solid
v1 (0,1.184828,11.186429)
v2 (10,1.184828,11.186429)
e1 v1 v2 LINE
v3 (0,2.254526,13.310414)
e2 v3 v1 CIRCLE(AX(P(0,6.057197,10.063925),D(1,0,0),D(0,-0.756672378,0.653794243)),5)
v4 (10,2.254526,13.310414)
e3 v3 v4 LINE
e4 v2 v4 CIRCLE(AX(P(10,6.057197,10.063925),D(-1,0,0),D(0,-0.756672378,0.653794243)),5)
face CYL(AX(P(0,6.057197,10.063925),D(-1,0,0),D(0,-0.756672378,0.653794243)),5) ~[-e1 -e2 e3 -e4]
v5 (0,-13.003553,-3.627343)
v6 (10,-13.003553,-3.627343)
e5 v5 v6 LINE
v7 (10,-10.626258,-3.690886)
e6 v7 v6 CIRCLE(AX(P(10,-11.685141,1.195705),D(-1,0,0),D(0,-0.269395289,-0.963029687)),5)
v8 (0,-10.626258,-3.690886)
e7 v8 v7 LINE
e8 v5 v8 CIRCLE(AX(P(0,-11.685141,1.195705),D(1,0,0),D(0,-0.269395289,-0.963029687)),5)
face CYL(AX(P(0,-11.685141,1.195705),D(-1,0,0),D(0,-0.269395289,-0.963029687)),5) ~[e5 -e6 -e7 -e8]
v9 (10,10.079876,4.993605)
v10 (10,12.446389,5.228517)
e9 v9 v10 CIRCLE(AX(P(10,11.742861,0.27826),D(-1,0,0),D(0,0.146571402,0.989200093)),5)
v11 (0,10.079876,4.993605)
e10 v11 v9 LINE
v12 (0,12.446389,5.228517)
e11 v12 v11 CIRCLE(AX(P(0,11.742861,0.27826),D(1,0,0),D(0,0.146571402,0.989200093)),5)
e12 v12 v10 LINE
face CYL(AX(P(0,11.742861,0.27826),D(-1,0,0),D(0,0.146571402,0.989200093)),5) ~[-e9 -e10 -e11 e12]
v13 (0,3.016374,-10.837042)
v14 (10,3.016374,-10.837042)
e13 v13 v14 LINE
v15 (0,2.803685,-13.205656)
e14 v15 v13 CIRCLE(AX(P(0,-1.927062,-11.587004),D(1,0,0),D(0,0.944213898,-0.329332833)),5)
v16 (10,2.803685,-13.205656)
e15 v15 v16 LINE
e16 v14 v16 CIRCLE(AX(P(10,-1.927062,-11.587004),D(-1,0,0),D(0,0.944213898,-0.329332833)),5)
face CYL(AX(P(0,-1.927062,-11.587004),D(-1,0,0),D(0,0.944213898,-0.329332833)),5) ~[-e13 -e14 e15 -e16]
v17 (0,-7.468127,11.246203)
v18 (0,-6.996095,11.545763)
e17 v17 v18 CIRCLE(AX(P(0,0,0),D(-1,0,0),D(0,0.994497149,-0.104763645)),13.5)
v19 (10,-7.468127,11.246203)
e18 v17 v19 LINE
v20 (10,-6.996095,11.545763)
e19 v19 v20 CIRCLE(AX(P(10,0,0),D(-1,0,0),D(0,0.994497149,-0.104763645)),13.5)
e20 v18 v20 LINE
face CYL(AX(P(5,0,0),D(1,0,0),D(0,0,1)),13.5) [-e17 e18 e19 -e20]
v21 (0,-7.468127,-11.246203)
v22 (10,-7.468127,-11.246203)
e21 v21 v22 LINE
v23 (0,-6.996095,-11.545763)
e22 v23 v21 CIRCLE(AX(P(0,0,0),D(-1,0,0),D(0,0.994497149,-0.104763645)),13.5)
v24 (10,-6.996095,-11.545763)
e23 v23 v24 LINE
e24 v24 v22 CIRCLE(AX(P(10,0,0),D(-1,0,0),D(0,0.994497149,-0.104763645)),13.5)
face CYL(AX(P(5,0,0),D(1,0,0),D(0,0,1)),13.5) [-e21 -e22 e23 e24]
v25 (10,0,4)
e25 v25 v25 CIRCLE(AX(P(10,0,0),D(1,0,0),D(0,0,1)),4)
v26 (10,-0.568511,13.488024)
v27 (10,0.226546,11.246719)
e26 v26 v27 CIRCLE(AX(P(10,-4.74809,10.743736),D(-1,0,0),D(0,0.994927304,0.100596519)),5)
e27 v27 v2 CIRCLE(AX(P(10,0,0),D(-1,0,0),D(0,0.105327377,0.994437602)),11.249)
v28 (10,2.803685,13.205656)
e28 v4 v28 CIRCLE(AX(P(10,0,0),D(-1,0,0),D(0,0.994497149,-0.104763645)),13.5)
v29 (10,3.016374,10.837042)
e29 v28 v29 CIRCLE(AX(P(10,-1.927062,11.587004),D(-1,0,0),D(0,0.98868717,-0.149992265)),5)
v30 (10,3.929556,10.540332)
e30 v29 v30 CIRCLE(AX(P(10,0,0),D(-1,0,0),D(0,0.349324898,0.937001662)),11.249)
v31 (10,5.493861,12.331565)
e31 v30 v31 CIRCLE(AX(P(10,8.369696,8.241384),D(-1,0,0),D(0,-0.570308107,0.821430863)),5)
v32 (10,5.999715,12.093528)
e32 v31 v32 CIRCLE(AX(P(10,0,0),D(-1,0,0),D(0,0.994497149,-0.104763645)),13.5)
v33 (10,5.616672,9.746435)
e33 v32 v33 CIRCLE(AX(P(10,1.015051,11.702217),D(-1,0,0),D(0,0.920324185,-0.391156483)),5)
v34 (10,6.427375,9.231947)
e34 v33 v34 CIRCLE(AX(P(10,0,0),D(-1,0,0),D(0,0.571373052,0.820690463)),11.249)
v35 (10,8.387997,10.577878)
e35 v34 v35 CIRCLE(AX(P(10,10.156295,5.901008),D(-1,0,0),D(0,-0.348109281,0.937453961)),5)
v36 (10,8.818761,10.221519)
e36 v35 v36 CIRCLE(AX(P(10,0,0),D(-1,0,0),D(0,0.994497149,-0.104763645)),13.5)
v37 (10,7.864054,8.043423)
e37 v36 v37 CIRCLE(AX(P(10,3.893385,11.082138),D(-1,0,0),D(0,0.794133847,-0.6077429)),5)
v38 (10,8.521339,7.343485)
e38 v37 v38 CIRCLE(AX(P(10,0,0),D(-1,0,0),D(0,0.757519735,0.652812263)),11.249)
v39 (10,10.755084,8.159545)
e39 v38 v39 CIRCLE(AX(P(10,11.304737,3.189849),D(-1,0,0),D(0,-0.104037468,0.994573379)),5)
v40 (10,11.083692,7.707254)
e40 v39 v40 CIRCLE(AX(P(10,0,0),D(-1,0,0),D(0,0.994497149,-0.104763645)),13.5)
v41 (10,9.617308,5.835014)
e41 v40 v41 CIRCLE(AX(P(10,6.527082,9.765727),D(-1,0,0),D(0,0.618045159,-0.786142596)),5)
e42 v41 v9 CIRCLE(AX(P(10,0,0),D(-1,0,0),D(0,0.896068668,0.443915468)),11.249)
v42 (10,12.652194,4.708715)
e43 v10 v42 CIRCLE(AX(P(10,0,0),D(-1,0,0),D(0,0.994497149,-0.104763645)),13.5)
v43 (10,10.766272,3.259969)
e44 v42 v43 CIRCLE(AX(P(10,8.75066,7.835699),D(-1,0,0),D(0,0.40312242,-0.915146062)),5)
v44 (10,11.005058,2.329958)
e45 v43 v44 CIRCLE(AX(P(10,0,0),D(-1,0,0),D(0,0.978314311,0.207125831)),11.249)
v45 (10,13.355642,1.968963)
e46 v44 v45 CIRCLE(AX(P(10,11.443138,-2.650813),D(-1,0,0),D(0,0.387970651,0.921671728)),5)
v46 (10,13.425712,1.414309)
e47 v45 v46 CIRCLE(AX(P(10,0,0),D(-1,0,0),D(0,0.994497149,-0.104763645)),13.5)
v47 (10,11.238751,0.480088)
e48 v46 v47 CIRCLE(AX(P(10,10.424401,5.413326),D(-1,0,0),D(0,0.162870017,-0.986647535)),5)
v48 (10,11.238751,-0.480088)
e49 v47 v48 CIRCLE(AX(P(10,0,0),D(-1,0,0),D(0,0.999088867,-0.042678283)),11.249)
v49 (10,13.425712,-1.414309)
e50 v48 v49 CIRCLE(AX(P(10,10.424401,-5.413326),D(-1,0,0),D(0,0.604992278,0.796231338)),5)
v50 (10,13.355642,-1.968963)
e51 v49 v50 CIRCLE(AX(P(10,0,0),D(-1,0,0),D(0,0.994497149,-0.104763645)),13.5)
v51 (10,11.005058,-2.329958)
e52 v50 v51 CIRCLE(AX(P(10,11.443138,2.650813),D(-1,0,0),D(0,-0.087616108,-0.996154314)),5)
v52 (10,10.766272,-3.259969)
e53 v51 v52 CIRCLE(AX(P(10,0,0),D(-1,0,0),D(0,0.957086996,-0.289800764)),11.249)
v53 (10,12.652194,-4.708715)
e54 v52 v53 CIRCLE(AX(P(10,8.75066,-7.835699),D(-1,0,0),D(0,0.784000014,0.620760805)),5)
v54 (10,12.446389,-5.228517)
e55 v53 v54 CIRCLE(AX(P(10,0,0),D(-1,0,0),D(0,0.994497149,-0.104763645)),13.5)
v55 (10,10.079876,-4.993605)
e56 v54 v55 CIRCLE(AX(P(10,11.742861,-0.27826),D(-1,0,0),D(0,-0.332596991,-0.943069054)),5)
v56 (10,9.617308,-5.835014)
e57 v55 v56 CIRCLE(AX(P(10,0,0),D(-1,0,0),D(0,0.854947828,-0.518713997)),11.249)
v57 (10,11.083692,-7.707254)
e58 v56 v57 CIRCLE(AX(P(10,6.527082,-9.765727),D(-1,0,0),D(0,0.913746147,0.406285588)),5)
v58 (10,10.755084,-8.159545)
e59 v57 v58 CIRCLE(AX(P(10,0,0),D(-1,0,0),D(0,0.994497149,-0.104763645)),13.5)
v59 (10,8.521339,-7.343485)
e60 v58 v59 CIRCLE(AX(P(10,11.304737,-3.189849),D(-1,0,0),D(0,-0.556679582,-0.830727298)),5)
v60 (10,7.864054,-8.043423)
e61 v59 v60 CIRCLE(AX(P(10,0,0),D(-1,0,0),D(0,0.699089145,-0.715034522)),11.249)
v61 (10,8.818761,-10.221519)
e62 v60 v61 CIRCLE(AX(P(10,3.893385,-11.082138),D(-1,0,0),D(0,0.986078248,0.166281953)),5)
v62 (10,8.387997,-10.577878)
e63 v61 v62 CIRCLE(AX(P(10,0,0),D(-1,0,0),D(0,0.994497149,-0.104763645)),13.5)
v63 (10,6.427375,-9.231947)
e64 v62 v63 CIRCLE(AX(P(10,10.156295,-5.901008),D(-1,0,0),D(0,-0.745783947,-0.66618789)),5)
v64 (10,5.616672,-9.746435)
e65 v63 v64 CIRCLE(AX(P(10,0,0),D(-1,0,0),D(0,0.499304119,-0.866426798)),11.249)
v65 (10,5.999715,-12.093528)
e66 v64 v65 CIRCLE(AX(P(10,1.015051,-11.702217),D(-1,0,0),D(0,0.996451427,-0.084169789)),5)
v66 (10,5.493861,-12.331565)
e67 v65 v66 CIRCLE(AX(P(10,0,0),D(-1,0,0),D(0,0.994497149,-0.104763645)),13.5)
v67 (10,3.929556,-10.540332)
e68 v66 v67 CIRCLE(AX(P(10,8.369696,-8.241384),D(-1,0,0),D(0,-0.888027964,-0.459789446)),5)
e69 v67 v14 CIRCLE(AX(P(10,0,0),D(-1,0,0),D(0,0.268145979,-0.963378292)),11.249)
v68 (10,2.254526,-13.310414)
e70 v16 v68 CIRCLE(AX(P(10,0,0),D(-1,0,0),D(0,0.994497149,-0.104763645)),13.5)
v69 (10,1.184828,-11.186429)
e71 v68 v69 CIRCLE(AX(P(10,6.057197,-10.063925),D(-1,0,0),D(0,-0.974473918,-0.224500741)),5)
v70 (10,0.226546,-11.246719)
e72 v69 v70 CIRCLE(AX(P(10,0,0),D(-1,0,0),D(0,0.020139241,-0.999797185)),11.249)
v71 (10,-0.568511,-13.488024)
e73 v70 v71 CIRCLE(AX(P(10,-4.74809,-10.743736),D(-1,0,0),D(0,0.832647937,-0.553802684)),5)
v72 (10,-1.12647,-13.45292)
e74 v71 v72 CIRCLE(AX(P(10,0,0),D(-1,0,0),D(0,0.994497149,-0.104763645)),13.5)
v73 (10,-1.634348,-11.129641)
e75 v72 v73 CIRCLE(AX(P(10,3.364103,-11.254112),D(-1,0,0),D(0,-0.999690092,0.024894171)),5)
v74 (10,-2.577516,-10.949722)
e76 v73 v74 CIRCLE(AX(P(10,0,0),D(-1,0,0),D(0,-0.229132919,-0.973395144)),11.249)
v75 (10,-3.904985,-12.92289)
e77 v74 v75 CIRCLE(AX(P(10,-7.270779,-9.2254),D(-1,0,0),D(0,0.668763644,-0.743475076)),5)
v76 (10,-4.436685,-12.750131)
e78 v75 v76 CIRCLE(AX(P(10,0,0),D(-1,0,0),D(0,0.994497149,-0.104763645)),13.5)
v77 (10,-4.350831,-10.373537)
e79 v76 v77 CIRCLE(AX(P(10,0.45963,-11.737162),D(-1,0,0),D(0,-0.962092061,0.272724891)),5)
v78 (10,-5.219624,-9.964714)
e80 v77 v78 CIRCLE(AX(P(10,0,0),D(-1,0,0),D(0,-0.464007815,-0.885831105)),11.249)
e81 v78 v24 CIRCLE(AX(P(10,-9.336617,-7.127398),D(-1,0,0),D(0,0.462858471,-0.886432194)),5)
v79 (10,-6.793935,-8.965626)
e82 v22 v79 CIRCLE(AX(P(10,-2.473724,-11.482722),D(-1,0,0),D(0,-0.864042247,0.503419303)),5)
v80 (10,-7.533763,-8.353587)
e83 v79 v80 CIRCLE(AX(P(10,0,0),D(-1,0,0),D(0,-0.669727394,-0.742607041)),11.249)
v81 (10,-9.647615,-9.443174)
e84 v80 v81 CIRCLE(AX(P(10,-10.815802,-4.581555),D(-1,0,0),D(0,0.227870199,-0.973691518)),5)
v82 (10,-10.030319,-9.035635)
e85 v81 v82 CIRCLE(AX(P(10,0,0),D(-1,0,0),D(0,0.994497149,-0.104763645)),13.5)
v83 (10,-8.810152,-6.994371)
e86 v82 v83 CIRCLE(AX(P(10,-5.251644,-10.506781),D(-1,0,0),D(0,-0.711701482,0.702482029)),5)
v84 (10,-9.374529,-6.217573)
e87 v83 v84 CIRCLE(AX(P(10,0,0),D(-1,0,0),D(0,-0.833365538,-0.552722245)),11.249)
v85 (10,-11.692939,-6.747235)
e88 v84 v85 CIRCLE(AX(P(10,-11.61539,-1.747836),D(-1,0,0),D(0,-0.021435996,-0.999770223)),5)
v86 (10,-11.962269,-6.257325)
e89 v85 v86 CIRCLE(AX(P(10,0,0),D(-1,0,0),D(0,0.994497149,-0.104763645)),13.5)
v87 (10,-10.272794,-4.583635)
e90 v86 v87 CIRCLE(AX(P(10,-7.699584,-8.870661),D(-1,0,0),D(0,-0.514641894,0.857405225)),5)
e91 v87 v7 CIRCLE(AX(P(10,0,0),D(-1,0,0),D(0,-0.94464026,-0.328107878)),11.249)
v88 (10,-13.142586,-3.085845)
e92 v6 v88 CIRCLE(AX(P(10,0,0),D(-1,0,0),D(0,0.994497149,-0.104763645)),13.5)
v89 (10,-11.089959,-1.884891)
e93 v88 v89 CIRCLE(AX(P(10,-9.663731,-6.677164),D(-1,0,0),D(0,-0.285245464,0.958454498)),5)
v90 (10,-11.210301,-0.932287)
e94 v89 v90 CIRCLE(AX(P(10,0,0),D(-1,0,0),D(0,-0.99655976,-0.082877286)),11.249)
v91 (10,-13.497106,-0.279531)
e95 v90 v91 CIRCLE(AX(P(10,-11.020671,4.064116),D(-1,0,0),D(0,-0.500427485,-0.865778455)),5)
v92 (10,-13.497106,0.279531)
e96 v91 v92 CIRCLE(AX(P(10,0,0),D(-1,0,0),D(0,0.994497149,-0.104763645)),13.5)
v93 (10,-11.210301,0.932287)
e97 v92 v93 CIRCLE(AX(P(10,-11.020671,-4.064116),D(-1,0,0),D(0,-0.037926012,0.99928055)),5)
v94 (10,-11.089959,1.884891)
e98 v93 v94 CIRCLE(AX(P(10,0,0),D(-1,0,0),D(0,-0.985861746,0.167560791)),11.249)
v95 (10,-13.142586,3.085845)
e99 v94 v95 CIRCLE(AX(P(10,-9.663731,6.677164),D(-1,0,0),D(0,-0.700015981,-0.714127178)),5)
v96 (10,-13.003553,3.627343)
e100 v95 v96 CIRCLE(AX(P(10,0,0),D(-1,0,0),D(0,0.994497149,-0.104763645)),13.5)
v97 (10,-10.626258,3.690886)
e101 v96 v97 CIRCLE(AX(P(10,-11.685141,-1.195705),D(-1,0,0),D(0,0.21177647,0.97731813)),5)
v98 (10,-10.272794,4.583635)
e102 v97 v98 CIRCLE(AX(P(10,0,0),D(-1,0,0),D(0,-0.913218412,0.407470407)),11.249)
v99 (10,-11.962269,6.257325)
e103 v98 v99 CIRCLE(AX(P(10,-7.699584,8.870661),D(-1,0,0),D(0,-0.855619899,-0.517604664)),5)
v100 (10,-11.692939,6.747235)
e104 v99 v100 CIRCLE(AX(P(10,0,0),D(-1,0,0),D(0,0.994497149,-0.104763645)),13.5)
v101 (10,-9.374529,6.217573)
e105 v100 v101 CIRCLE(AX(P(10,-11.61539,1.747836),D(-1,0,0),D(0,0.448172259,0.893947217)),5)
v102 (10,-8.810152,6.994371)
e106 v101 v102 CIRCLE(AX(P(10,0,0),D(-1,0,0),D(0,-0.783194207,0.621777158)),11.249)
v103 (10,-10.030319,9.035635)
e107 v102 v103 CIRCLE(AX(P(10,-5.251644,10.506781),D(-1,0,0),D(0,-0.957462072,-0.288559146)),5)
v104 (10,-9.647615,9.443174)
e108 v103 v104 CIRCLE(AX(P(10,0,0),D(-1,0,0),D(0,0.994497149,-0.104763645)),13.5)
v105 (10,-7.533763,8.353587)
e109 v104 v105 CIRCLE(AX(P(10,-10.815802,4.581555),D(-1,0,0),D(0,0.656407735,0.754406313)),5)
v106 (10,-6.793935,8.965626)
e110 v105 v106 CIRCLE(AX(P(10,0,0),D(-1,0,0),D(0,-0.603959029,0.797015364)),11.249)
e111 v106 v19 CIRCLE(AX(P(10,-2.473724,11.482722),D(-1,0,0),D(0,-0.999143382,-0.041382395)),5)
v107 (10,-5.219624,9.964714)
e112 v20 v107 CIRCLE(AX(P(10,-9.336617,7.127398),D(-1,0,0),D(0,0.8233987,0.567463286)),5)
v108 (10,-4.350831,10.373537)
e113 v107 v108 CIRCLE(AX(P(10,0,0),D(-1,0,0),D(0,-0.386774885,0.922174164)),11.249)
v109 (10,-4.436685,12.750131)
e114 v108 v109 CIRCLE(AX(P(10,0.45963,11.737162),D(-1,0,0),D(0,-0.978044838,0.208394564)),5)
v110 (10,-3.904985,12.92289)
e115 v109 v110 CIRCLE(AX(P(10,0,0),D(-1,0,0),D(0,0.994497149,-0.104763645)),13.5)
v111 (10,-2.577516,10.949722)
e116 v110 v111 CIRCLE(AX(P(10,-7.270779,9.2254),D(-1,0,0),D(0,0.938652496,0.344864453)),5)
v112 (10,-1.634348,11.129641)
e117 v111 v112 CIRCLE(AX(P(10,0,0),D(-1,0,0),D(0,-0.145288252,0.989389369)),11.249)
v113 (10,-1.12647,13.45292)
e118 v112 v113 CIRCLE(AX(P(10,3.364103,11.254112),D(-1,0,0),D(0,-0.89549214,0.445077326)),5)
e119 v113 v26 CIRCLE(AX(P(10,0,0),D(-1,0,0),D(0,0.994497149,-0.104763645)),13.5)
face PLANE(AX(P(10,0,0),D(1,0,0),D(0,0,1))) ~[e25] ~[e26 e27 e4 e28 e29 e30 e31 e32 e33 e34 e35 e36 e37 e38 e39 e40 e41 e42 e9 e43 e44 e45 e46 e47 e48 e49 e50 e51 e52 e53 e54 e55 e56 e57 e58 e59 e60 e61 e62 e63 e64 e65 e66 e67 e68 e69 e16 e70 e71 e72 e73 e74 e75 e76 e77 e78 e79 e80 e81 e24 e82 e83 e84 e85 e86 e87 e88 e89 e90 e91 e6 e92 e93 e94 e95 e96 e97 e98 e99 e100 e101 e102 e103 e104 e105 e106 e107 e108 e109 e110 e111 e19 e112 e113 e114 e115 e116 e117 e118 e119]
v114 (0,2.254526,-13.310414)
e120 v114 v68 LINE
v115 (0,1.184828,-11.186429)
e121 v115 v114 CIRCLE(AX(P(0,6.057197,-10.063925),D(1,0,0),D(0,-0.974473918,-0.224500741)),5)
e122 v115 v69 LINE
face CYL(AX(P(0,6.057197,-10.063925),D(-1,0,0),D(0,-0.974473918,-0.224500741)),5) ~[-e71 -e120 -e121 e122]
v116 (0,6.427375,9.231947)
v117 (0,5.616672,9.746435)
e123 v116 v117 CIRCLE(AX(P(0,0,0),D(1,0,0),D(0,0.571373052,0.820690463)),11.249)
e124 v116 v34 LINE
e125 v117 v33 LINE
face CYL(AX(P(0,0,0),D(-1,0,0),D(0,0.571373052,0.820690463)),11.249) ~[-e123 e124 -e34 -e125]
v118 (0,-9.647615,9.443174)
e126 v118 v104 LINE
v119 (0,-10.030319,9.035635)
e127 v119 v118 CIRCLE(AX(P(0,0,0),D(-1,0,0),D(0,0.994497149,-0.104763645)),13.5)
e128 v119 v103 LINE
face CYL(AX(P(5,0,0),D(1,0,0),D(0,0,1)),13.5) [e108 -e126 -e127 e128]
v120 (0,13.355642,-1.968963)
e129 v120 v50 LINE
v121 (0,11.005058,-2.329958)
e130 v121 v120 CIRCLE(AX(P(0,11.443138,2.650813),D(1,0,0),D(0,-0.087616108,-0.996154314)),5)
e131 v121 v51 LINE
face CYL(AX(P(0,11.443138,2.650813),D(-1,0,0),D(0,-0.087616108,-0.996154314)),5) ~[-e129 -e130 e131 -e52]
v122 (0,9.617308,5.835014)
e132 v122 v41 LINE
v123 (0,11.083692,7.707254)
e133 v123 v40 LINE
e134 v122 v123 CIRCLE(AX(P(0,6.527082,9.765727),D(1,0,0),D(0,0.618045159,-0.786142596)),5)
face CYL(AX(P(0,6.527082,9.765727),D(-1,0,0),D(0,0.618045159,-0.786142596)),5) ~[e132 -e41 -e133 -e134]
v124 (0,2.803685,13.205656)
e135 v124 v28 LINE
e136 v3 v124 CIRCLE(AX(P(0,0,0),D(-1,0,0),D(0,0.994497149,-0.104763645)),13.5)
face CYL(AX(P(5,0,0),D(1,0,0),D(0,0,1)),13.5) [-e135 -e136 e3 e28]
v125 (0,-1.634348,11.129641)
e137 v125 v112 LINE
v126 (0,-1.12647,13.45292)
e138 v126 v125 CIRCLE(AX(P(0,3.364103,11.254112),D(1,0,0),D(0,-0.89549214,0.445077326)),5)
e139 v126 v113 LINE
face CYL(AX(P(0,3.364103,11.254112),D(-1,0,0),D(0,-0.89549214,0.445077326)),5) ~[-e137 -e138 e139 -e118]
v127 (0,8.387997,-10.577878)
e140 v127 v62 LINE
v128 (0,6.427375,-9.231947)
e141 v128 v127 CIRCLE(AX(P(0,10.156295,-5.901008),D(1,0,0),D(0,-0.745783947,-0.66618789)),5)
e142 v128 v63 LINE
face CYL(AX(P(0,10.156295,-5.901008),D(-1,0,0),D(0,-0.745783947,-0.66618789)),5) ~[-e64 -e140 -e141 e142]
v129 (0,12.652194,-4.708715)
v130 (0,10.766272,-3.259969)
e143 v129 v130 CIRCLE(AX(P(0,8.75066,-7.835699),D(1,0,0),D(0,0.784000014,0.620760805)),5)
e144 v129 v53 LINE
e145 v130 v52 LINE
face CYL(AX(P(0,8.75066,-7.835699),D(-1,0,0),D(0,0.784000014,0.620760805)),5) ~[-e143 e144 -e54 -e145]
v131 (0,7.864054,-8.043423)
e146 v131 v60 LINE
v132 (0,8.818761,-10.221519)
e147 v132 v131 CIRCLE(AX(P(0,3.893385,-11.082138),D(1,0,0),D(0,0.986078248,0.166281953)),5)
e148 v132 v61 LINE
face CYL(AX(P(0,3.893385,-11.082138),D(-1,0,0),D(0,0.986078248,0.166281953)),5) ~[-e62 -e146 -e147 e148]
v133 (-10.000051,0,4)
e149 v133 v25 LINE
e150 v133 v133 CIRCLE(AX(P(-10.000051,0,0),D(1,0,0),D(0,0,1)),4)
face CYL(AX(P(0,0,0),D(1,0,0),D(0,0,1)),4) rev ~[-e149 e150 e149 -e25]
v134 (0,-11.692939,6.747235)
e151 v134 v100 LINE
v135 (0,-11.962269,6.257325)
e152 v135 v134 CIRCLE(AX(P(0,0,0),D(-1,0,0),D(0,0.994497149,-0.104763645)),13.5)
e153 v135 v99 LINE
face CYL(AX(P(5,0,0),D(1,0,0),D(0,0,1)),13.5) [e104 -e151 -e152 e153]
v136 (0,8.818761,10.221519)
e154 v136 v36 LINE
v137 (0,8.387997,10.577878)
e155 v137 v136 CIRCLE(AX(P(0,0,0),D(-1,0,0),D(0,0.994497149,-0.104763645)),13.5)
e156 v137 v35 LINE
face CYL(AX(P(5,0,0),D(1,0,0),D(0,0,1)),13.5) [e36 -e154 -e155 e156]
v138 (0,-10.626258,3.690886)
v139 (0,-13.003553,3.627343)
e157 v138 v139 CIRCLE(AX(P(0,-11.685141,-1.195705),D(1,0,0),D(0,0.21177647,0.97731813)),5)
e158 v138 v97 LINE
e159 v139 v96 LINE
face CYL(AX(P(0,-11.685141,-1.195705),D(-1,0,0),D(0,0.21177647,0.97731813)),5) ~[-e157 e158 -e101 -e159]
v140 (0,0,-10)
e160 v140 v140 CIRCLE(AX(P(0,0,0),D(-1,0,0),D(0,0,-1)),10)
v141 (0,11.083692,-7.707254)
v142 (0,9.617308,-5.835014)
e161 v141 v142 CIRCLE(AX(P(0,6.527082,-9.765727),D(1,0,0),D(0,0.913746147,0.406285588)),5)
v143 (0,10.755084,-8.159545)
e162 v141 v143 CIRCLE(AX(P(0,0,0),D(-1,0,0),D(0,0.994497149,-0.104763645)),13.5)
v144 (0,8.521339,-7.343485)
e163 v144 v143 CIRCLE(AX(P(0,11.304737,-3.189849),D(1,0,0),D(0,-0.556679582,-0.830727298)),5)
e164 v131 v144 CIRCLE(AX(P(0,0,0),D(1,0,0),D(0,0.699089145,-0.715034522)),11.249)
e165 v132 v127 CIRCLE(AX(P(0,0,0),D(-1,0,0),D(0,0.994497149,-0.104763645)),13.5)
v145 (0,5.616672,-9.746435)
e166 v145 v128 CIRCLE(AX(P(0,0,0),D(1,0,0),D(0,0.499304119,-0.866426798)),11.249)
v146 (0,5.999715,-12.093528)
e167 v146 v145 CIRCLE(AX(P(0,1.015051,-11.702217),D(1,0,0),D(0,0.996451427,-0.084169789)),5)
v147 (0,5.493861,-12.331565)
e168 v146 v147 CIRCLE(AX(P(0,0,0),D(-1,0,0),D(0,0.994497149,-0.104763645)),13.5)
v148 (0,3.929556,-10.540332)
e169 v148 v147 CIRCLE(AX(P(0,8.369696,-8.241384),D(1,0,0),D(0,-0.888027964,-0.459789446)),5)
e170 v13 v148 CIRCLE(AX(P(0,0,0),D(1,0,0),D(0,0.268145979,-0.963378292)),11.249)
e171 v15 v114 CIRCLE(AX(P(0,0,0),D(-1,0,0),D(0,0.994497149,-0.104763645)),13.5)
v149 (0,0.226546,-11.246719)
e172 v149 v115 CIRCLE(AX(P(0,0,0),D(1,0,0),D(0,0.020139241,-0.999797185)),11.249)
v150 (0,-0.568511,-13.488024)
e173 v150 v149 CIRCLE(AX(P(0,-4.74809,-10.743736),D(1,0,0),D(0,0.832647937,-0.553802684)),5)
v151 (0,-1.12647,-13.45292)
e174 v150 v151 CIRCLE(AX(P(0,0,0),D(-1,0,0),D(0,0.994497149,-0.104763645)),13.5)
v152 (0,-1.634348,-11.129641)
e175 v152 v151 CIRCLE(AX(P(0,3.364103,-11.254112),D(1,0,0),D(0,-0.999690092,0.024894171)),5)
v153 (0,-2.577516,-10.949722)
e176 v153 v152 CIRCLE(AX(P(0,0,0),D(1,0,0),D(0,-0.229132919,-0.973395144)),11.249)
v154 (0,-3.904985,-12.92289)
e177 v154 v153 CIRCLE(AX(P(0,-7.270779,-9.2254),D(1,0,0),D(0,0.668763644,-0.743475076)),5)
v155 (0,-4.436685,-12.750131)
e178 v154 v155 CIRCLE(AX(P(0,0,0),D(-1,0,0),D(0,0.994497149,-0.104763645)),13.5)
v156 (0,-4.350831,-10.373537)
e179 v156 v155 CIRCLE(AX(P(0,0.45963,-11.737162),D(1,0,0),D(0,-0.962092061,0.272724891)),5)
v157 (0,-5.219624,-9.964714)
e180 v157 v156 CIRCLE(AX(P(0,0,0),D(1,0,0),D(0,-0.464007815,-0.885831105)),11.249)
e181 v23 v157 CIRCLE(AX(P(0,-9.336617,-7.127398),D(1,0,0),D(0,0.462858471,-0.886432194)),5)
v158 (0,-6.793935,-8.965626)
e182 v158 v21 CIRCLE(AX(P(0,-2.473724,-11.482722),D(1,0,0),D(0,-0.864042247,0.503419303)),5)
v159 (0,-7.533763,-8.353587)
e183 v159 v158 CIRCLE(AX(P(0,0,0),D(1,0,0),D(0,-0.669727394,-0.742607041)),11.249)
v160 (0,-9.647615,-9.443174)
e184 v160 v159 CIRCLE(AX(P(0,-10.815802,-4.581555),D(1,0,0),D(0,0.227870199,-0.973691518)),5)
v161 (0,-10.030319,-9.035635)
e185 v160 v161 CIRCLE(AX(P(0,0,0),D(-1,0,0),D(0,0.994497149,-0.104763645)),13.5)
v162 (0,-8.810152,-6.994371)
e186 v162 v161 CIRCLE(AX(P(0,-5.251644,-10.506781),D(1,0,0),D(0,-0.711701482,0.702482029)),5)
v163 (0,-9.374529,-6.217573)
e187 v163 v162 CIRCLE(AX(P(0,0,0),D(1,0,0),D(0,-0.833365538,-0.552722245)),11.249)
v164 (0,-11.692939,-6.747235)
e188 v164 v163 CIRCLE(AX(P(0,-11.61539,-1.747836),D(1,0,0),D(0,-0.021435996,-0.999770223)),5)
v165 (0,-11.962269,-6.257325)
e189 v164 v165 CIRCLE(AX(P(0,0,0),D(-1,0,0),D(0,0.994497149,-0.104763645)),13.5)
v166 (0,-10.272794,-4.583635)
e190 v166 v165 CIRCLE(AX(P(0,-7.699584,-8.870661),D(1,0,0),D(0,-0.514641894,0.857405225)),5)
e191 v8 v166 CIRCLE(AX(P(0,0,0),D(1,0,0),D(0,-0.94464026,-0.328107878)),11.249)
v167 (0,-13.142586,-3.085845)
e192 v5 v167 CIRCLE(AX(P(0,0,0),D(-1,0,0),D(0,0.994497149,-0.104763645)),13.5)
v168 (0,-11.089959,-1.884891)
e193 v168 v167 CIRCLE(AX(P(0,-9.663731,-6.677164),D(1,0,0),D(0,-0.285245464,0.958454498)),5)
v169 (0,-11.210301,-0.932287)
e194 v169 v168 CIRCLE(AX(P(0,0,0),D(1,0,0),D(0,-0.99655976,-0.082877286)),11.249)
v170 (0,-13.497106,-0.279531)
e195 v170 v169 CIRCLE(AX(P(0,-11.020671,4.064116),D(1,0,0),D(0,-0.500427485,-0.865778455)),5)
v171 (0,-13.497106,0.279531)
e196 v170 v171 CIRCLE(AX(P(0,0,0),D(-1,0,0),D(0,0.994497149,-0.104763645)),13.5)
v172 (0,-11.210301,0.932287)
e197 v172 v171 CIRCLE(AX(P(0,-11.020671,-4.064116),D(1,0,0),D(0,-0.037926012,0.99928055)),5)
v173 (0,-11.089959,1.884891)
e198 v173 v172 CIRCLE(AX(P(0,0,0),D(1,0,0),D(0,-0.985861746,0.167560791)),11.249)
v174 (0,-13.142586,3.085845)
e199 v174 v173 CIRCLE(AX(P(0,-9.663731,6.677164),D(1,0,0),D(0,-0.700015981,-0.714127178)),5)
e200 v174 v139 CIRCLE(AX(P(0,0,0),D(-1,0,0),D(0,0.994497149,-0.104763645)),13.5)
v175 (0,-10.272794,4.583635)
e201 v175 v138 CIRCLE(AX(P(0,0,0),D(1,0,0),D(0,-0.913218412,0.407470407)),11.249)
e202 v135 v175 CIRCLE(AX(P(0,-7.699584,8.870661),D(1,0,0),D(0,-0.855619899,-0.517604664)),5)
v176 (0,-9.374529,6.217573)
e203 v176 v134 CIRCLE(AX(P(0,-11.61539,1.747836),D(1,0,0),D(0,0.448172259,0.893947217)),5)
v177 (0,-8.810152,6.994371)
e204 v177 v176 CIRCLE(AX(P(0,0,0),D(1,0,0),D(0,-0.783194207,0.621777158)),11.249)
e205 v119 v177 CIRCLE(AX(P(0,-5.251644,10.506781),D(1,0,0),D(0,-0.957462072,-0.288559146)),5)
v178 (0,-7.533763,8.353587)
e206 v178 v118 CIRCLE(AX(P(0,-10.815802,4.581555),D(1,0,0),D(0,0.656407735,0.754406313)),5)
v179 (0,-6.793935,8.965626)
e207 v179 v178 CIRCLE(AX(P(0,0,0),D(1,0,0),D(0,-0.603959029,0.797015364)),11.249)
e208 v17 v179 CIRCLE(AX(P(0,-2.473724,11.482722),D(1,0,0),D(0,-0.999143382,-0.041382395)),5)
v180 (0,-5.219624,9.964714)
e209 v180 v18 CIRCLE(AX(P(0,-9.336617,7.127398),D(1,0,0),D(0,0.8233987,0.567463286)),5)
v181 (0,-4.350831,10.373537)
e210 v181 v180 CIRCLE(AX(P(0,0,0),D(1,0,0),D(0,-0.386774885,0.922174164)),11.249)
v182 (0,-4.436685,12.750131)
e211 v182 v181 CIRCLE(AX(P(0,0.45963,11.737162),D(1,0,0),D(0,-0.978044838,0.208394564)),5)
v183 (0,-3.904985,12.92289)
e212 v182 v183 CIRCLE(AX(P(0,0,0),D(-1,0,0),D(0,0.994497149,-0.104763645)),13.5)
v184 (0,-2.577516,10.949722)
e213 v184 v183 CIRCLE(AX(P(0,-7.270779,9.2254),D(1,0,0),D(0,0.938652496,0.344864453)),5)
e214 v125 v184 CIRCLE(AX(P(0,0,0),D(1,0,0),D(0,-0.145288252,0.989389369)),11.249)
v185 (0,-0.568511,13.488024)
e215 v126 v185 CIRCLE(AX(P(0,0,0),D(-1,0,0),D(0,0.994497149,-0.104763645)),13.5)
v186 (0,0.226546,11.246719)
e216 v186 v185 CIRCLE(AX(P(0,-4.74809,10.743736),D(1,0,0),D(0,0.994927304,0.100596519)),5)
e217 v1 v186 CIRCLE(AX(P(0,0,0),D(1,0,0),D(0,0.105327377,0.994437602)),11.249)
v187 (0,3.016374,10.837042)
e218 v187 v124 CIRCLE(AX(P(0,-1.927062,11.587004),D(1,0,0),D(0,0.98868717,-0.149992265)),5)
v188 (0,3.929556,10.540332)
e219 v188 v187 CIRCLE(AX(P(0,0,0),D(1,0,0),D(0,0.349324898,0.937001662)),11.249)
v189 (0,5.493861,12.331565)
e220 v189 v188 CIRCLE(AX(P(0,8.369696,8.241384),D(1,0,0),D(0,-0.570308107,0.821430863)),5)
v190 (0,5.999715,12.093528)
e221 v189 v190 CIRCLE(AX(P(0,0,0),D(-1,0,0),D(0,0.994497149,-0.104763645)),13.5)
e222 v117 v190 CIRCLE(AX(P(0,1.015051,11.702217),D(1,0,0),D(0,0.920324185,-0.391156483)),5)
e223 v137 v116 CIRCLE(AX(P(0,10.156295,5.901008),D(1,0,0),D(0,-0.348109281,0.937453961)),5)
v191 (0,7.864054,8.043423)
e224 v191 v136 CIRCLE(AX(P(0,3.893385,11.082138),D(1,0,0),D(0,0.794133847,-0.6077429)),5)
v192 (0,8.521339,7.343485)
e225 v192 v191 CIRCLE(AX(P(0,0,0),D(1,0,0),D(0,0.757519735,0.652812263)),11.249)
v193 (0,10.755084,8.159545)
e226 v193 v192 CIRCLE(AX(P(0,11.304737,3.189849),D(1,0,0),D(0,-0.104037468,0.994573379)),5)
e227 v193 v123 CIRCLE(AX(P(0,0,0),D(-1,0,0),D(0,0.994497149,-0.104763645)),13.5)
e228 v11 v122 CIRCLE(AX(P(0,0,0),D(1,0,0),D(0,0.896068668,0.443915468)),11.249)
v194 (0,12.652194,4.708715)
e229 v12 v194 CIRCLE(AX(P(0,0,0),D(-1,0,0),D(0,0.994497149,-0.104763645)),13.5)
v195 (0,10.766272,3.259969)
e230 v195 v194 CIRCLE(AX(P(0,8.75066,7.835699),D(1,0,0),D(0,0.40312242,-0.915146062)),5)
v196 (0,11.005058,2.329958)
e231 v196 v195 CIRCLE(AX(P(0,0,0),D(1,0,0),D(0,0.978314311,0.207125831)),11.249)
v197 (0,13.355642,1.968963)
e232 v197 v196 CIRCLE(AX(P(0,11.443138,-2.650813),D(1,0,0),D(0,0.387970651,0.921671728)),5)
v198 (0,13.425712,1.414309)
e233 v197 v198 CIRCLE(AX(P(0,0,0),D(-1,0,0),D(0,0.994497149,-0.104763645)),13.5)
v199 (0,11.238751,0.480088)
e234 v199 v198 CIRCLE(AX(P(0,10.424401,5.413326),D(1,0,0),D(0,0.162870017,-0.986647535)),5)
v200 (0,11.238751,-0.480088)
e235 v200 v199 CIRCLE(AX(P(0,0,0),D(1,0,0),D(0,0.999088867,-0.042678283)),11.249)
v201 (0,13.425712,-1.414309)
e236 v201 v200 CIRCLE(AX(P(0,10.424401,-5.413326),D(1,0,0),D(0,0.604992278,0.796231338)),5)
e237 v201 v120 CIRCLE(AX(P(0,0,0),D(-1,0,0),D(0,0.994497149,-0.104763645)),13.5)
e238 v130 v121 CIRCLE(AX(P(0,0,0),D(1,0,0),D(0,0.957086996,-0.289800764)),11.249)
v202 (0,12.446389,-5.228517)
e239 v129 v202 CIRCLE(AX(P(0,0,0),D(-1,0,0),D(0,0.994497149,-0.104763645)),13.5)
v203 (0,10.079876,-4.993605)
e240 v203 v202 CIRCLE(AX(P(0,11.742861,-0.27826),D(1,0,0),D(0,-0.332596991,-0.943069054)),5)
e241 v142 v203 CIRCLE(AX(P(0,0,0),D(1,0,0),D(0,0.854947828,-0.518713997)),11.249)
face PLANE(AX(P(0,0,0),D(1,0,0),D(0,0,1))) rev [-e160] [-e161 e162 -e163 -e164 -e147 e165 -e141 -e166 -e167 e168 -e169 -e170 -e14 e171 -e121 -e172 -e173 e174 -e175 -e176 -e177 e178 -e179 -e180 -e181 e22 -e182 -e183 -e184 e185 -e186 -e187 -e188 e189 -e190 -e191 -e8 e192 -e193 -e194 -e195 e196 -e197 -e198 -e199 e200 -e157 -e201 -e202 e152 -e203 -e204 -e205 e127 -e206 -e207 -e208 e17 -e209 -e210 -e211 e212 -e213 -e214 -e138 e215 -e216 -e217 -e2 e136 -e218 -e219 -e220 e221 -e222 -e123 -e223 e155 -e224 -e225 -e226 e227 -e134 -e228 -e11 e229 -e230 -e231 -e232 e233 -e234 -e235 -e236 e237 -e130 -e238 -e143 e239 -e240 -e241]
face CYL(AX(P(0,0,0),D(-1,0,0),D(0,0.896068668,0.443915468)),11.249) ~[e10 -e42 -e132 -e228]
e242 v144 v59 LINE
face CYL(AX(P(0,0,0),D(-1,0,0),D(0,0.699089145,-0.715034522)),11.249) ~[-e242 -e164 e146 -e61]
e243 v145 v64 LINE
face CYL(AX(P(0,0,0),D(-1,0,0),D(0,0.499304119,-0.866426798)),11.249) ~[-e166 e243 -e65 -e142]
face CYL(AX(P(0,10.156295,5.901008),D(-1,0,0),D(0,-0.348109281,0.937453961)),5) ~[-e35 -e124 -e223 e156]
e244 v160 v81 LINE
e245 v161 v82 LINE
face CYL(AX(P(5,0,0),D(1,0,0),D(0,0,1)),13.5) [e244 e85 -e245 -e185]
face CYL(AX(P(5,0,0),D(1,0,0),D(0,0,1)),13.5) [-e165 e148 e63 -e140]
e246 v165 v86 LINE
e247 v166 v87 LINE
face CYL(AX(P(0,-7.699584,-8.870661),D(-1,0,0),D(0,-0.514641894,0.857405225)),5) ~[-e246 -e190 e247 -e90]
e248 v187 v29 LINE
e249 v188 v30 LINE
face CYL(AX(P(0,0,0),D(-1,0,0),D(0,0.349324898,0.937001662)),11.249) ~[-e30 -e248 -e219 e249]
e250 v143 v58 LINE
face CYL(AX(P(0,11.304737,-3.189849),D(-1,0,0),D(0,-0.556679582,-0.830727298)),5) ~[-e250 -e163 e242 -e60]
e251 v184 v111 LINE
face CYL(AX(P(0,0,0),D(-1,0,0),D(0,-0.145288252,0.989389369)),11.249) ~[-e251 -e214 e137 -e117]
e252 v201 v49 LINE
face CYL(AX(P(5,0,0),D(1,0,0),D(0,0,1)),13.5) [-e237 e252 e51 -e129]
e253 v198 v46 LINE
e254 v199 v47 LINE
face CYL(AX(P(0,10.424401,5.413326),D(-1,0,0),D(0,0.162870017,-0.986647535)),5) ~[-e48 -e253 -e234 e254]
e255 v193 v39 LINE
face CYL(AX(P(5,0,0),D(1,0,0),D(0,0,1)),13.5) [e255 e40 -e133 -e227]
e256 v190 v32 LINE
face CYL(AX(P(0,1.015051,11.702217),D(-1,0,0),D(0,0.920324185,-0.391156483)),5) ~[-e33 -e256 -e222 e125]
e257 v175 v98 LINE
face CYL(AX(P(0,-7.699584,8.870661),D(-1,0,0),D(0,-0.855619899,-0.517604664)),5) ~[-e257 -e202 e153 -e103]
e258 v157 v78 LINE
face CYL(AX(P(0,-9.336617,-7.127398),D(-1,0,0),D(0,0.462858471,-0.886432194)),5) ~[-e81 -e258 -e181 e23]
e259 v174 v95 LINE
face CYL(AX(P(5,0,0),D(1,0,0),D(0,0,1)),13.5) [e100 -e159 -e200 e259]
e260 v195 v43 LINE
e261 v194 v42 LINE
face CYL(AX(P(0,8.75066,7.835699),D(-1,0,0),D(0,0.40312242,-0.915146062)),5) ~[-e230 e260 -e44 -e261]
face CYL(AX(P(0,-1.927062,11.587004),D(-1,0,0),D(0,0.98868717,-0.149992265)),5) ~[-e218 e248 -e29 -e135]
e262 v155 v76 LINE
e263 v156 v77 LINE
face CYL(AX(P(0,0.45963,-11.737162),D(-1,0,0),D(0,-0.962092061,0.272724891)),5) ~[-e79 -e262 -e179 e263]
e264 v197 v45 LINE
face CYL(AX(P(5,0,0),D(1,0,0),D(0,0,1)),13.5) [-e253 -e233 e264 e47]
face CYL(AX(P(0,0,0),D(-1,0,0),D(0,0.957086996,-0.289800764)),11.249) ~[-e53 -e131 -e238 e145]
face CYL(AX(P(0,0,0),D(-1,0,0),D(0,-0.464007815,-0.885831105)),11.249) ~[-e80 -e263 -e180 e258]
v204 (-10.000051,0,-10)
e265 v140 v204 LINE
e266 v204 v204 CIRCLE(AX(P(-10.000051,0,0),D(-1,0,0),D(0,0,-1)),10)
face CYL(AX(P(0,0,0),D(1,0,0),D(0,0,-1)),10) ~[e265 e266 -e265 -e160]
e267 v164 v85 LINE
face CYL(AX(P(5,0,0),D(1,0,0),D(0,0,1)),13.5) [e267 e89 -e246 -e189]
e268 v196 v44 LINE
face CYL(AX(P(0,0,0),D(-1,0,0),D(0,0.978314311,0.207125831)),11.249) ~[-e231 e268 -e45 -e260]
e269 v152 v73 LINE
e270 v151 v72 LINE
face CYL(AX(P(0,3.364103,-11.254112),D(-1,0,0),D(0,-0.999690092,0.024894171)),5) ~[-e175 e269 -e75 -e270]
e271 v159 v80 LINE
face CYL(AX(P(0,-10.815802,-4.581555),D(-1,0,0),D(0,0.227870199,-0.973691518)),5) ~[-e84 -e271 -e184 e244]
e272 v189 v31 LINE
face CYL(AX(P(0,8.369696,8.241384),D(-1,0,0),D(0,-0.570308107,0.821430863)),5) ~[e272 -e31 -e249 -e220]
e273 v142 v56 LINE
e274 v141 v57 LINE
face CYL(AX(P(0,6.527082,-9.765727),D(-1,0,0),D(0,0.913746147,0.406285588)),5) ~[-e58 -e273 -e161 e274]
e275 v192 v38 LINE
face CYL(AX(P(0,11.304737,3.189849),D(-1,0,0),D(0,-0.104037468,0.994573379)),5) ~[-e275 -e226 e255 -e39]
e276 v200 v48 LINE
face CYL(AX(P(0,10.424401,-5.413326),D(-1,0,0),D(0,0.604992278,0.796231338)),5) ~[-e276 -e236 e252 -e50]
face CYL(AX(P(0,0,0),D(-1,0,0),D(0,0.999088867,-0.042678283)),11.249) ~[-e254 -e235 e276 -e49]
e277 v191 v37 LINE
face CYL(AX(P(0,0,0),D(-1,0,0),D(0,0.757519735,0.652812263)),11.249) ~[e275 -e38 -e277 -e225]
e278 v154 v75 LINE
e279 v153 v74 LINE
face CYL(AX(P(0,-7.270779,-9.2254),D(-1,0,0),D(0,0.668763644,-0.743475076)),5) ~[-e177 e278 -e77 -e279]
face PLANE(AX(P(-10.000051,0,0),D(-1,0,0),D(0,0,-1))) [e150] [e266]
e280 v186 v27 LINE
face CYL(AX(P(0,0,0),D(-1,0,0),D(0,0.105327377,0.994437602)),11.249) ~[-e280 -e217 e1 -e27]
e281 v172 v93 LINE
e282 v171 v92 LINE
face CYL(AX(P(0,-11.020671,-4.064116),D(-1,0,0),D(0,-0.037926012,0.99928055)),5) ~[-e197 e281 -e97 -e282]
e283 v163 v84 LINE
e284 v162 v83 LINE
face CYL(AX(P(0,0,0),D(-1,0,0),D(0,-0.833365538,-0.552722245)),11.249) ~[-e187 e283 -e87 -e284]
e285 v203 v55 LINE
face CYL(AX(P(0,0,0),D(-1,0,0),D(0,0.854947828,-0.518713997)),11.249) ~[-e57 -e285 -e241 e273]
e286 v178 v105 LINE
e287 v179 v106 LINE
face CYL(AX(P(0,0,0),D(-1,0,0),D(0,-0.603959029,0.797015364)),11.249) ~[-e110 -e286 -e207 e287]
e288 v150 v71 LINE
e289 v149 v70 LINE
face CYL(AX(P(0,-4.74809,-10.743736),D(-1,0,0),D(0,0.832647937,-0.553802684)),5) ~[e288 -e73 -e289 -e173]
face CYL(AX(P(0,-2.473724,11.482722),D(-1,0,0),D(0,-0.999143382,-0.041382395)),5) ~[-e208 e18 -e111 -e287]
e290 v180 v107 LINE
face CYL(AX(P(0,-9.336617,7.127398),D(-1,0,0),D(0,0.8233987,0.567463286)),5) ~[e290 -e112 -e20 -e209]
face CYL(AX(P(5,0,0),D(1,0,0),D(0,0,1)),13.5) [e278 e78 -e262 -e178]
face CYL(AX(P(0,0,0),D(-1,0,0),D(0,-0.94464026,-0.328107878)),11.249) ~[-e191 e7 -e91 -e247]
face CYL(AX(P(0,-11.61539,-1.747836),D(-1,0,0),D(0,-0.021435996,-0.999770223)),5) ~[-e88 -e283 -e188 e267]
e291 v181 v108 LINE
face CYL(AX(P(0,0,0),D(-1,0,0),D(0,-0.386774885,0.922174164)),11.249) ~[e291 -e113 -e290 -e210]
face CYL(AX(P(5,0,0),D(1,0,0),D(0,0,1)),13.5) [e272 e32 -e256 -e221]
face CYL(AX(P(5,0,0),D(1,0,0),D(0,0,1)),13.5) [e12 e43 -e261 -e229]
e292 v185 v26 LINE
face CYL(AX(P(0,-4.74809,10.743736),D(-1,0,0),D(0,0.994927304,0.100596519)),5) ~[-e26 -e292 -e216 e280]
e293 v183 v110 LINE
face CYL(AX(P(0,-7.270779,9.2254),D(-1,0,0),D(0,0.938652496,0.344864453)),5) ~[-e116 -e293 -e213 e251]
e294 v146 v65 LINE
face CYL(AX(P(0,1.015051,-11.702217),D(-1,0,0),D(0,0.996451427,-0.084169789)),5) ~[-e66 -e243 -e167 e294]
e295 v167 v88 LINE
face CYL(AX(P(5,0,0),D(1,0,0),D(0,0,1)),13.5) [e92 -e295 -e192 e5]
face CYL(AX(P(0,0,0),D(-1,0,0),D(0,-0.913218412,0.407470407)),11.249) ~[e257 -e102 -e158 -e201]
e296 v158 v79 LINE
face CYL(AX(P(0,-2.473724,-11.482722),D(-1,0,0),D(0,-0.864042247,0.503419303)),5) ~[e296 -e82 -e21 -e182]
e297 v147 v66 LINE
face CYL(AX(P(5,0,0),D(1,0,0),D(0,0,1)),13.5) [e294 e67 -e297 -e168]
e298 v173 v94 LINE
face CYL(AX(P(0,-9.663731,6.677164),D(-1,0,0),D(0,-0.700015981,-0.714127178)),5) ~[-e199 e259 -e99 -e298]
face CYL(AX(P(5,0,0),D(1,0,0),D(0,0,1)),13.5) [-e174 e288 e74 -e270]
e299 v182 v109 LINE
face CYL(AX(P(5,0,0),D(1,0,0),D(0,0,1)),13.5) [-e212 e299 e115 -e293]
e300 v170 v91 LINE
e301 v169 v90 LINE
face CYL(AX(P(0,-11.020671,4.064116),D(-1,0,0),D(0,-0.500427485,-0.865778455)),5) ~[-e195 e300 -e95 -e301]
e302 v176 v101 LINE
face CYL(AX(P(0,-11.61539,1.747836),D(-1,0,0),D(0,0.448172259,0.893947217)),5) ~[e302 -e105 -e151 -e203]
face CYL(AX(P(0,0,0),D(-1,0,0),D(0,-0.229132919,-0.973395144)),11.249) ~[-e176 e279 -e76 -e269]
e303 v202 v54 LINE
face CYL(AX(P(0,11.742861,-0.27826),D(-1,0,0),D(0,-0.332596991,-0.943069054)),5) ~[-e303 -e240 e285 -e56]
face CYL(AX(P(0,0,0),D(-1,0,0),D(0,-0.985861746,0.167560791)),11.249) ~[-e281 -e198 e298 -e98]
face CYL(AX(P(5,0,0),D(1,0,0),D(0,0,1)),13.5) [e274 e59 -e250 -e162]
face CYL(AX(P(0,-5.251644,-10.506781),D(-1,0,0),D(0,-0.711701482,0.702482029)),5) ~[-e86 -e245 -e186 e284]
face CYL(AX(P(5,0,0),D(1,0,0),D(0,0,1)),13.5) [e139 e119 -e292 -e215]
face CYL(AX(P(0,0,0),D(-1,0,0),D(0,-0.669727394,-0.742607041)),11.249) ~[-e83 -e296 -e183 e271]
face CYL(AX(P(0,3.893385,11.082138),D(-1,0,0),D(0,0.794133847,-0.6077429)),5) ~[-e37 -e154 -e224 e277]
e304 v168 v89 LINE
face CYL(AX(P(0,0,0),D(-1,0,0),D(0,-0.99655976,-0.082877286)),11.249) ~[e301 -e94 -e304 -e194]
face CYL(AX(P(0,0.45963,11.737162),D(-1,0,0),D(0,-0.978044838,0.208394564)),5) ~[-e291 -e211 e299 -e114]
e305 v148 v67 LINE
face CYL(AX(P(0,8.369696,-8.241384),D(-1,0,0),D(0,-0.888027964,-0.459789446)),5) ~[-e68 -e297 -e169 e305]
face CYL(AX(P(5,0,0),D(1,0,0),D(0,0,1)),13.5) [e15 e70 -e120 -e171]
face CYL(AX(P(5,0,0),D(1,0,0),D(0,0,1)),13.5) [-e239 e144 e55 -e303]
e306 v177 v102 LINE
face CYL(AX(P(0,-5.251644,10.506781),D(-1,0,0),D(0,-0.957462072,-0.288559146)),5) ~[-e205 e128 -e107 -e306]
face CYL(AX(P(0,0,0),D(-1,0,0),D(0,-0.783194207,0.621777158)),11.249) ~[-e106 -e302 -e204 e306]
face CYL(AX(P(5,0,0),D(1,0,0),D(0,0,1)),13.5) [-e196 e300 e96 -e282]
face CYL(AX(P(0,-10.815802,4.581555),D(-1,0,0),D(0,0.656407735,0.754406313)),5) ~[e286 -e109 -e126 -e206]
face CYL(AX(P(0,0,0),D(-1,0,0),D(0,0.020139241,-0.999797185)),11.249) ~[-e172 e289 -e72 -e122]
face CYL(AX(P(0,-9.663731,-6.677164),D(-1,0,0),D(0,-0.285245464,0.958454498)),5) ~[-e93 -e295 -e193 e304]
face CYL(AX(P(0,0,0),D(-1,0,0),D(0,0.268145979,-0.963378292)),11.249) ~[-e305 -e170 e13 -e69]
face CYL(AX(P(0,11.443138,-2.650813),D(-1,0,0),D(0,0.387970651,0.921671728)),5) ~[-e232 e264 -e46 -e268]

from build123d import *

# Parameters (mm, degrees)
BASPROSKE_W      = 10
BASPROSKE_H      = 13.5
TOOTHCUT_DEPTH   = 22.552262062
TEETHCUTS_COUNT  = 25
TEETHCUTS_ANGLE  = 345.6
HUBNEAONESKE_R   = 10
HUBNEARONE_DEPTH = 10.0000508
BORSKE_R         = 4
BORE_DEPTH       = 20.0000508


with BuildPart() as part:
    # BasProSke → Base-Revolve (revolve)
    with BuildSketch(Plane(origin=(0, 0, 0), x_dir=(1, 0, 0), z_dir=(0, 1, 0)), mode=Mode.PRIVATE) as base_revolve_sk:
        with Locations((5, 6.75)):
            Rectangle(BASPROSKE_W, BASPROSKE_H)
    revolve(base_revolve_sk.sketch.rotate(Axis((-10, 0, 0), (1, 0, 0)), 180), axis=Axis((-10, 0, 0), (1, 0, 0)))

    # TooCutSke → ToothCut (cut, through all)
    with BuildSketch(Plane(origin=(0, 0, 0), x_dir=(0, 0, -1), z_dir=(1, 0, 0))):
        with BuildLine():
            ThreePointArc((0.480087995, 11.238750665), (0, 11.249), (-0.480087995, 11.238750665))
            ThreePointArc((-0.480087995, 11.238750665), (-0.821124963, 12.40220054), (-1.432168974, 13.449361962))
            ThreePointArc((-1.432168974, 13.449361962), (0, 13.5254), (1.432168974, 13.449361962))
            ThreePointArc((1.432168974, 13.449361962), (0.821124963, 12.40220054), (0.480087995, 11.238750665))
        make_face()
    toothcut = extrude(amount=TOOTHCUT_DEPTH, mode=Mode.SUBTRACT)

    # TeethCuts: ToothCut ×25 about axis
    teethcuts_axis = Axis((-10, 0, 0), (1, 0, 0))
    for i in range(1, TEETHCUTS_COUNT):
        add(toothcut.rotate(teethcuts_axis, i * TEETHCUTS_ANGLE / (TEETHCUTS_COUNT - 1)), mode=Mode.SUBTRACT)

    # HubNeaOneSke → HubNearOne (add)
    with BuildSketch(Plane.ZY):
        with Locations(Location((0, 0, 0), (0, 0, 180))):
            Circle(HUBNEAONESKE_R)
    extrude(amount=HUBNEARONE_DEPTH)

    # BorSke → Bore (cut, symmetric)
    with BuildSketch(Plane(origin=(0, 0, 0), x_dir=(0, 0, -1), z_dir=(1, 0, 0))):
        with Locations(Location((0, 0, 0), (0, 0, 180))):
            Circle(BORSKE_R)
    extrude(amount=BORE_DEPTH, both=True, mode=Mode.SUBTRACT)


solid = part.part
